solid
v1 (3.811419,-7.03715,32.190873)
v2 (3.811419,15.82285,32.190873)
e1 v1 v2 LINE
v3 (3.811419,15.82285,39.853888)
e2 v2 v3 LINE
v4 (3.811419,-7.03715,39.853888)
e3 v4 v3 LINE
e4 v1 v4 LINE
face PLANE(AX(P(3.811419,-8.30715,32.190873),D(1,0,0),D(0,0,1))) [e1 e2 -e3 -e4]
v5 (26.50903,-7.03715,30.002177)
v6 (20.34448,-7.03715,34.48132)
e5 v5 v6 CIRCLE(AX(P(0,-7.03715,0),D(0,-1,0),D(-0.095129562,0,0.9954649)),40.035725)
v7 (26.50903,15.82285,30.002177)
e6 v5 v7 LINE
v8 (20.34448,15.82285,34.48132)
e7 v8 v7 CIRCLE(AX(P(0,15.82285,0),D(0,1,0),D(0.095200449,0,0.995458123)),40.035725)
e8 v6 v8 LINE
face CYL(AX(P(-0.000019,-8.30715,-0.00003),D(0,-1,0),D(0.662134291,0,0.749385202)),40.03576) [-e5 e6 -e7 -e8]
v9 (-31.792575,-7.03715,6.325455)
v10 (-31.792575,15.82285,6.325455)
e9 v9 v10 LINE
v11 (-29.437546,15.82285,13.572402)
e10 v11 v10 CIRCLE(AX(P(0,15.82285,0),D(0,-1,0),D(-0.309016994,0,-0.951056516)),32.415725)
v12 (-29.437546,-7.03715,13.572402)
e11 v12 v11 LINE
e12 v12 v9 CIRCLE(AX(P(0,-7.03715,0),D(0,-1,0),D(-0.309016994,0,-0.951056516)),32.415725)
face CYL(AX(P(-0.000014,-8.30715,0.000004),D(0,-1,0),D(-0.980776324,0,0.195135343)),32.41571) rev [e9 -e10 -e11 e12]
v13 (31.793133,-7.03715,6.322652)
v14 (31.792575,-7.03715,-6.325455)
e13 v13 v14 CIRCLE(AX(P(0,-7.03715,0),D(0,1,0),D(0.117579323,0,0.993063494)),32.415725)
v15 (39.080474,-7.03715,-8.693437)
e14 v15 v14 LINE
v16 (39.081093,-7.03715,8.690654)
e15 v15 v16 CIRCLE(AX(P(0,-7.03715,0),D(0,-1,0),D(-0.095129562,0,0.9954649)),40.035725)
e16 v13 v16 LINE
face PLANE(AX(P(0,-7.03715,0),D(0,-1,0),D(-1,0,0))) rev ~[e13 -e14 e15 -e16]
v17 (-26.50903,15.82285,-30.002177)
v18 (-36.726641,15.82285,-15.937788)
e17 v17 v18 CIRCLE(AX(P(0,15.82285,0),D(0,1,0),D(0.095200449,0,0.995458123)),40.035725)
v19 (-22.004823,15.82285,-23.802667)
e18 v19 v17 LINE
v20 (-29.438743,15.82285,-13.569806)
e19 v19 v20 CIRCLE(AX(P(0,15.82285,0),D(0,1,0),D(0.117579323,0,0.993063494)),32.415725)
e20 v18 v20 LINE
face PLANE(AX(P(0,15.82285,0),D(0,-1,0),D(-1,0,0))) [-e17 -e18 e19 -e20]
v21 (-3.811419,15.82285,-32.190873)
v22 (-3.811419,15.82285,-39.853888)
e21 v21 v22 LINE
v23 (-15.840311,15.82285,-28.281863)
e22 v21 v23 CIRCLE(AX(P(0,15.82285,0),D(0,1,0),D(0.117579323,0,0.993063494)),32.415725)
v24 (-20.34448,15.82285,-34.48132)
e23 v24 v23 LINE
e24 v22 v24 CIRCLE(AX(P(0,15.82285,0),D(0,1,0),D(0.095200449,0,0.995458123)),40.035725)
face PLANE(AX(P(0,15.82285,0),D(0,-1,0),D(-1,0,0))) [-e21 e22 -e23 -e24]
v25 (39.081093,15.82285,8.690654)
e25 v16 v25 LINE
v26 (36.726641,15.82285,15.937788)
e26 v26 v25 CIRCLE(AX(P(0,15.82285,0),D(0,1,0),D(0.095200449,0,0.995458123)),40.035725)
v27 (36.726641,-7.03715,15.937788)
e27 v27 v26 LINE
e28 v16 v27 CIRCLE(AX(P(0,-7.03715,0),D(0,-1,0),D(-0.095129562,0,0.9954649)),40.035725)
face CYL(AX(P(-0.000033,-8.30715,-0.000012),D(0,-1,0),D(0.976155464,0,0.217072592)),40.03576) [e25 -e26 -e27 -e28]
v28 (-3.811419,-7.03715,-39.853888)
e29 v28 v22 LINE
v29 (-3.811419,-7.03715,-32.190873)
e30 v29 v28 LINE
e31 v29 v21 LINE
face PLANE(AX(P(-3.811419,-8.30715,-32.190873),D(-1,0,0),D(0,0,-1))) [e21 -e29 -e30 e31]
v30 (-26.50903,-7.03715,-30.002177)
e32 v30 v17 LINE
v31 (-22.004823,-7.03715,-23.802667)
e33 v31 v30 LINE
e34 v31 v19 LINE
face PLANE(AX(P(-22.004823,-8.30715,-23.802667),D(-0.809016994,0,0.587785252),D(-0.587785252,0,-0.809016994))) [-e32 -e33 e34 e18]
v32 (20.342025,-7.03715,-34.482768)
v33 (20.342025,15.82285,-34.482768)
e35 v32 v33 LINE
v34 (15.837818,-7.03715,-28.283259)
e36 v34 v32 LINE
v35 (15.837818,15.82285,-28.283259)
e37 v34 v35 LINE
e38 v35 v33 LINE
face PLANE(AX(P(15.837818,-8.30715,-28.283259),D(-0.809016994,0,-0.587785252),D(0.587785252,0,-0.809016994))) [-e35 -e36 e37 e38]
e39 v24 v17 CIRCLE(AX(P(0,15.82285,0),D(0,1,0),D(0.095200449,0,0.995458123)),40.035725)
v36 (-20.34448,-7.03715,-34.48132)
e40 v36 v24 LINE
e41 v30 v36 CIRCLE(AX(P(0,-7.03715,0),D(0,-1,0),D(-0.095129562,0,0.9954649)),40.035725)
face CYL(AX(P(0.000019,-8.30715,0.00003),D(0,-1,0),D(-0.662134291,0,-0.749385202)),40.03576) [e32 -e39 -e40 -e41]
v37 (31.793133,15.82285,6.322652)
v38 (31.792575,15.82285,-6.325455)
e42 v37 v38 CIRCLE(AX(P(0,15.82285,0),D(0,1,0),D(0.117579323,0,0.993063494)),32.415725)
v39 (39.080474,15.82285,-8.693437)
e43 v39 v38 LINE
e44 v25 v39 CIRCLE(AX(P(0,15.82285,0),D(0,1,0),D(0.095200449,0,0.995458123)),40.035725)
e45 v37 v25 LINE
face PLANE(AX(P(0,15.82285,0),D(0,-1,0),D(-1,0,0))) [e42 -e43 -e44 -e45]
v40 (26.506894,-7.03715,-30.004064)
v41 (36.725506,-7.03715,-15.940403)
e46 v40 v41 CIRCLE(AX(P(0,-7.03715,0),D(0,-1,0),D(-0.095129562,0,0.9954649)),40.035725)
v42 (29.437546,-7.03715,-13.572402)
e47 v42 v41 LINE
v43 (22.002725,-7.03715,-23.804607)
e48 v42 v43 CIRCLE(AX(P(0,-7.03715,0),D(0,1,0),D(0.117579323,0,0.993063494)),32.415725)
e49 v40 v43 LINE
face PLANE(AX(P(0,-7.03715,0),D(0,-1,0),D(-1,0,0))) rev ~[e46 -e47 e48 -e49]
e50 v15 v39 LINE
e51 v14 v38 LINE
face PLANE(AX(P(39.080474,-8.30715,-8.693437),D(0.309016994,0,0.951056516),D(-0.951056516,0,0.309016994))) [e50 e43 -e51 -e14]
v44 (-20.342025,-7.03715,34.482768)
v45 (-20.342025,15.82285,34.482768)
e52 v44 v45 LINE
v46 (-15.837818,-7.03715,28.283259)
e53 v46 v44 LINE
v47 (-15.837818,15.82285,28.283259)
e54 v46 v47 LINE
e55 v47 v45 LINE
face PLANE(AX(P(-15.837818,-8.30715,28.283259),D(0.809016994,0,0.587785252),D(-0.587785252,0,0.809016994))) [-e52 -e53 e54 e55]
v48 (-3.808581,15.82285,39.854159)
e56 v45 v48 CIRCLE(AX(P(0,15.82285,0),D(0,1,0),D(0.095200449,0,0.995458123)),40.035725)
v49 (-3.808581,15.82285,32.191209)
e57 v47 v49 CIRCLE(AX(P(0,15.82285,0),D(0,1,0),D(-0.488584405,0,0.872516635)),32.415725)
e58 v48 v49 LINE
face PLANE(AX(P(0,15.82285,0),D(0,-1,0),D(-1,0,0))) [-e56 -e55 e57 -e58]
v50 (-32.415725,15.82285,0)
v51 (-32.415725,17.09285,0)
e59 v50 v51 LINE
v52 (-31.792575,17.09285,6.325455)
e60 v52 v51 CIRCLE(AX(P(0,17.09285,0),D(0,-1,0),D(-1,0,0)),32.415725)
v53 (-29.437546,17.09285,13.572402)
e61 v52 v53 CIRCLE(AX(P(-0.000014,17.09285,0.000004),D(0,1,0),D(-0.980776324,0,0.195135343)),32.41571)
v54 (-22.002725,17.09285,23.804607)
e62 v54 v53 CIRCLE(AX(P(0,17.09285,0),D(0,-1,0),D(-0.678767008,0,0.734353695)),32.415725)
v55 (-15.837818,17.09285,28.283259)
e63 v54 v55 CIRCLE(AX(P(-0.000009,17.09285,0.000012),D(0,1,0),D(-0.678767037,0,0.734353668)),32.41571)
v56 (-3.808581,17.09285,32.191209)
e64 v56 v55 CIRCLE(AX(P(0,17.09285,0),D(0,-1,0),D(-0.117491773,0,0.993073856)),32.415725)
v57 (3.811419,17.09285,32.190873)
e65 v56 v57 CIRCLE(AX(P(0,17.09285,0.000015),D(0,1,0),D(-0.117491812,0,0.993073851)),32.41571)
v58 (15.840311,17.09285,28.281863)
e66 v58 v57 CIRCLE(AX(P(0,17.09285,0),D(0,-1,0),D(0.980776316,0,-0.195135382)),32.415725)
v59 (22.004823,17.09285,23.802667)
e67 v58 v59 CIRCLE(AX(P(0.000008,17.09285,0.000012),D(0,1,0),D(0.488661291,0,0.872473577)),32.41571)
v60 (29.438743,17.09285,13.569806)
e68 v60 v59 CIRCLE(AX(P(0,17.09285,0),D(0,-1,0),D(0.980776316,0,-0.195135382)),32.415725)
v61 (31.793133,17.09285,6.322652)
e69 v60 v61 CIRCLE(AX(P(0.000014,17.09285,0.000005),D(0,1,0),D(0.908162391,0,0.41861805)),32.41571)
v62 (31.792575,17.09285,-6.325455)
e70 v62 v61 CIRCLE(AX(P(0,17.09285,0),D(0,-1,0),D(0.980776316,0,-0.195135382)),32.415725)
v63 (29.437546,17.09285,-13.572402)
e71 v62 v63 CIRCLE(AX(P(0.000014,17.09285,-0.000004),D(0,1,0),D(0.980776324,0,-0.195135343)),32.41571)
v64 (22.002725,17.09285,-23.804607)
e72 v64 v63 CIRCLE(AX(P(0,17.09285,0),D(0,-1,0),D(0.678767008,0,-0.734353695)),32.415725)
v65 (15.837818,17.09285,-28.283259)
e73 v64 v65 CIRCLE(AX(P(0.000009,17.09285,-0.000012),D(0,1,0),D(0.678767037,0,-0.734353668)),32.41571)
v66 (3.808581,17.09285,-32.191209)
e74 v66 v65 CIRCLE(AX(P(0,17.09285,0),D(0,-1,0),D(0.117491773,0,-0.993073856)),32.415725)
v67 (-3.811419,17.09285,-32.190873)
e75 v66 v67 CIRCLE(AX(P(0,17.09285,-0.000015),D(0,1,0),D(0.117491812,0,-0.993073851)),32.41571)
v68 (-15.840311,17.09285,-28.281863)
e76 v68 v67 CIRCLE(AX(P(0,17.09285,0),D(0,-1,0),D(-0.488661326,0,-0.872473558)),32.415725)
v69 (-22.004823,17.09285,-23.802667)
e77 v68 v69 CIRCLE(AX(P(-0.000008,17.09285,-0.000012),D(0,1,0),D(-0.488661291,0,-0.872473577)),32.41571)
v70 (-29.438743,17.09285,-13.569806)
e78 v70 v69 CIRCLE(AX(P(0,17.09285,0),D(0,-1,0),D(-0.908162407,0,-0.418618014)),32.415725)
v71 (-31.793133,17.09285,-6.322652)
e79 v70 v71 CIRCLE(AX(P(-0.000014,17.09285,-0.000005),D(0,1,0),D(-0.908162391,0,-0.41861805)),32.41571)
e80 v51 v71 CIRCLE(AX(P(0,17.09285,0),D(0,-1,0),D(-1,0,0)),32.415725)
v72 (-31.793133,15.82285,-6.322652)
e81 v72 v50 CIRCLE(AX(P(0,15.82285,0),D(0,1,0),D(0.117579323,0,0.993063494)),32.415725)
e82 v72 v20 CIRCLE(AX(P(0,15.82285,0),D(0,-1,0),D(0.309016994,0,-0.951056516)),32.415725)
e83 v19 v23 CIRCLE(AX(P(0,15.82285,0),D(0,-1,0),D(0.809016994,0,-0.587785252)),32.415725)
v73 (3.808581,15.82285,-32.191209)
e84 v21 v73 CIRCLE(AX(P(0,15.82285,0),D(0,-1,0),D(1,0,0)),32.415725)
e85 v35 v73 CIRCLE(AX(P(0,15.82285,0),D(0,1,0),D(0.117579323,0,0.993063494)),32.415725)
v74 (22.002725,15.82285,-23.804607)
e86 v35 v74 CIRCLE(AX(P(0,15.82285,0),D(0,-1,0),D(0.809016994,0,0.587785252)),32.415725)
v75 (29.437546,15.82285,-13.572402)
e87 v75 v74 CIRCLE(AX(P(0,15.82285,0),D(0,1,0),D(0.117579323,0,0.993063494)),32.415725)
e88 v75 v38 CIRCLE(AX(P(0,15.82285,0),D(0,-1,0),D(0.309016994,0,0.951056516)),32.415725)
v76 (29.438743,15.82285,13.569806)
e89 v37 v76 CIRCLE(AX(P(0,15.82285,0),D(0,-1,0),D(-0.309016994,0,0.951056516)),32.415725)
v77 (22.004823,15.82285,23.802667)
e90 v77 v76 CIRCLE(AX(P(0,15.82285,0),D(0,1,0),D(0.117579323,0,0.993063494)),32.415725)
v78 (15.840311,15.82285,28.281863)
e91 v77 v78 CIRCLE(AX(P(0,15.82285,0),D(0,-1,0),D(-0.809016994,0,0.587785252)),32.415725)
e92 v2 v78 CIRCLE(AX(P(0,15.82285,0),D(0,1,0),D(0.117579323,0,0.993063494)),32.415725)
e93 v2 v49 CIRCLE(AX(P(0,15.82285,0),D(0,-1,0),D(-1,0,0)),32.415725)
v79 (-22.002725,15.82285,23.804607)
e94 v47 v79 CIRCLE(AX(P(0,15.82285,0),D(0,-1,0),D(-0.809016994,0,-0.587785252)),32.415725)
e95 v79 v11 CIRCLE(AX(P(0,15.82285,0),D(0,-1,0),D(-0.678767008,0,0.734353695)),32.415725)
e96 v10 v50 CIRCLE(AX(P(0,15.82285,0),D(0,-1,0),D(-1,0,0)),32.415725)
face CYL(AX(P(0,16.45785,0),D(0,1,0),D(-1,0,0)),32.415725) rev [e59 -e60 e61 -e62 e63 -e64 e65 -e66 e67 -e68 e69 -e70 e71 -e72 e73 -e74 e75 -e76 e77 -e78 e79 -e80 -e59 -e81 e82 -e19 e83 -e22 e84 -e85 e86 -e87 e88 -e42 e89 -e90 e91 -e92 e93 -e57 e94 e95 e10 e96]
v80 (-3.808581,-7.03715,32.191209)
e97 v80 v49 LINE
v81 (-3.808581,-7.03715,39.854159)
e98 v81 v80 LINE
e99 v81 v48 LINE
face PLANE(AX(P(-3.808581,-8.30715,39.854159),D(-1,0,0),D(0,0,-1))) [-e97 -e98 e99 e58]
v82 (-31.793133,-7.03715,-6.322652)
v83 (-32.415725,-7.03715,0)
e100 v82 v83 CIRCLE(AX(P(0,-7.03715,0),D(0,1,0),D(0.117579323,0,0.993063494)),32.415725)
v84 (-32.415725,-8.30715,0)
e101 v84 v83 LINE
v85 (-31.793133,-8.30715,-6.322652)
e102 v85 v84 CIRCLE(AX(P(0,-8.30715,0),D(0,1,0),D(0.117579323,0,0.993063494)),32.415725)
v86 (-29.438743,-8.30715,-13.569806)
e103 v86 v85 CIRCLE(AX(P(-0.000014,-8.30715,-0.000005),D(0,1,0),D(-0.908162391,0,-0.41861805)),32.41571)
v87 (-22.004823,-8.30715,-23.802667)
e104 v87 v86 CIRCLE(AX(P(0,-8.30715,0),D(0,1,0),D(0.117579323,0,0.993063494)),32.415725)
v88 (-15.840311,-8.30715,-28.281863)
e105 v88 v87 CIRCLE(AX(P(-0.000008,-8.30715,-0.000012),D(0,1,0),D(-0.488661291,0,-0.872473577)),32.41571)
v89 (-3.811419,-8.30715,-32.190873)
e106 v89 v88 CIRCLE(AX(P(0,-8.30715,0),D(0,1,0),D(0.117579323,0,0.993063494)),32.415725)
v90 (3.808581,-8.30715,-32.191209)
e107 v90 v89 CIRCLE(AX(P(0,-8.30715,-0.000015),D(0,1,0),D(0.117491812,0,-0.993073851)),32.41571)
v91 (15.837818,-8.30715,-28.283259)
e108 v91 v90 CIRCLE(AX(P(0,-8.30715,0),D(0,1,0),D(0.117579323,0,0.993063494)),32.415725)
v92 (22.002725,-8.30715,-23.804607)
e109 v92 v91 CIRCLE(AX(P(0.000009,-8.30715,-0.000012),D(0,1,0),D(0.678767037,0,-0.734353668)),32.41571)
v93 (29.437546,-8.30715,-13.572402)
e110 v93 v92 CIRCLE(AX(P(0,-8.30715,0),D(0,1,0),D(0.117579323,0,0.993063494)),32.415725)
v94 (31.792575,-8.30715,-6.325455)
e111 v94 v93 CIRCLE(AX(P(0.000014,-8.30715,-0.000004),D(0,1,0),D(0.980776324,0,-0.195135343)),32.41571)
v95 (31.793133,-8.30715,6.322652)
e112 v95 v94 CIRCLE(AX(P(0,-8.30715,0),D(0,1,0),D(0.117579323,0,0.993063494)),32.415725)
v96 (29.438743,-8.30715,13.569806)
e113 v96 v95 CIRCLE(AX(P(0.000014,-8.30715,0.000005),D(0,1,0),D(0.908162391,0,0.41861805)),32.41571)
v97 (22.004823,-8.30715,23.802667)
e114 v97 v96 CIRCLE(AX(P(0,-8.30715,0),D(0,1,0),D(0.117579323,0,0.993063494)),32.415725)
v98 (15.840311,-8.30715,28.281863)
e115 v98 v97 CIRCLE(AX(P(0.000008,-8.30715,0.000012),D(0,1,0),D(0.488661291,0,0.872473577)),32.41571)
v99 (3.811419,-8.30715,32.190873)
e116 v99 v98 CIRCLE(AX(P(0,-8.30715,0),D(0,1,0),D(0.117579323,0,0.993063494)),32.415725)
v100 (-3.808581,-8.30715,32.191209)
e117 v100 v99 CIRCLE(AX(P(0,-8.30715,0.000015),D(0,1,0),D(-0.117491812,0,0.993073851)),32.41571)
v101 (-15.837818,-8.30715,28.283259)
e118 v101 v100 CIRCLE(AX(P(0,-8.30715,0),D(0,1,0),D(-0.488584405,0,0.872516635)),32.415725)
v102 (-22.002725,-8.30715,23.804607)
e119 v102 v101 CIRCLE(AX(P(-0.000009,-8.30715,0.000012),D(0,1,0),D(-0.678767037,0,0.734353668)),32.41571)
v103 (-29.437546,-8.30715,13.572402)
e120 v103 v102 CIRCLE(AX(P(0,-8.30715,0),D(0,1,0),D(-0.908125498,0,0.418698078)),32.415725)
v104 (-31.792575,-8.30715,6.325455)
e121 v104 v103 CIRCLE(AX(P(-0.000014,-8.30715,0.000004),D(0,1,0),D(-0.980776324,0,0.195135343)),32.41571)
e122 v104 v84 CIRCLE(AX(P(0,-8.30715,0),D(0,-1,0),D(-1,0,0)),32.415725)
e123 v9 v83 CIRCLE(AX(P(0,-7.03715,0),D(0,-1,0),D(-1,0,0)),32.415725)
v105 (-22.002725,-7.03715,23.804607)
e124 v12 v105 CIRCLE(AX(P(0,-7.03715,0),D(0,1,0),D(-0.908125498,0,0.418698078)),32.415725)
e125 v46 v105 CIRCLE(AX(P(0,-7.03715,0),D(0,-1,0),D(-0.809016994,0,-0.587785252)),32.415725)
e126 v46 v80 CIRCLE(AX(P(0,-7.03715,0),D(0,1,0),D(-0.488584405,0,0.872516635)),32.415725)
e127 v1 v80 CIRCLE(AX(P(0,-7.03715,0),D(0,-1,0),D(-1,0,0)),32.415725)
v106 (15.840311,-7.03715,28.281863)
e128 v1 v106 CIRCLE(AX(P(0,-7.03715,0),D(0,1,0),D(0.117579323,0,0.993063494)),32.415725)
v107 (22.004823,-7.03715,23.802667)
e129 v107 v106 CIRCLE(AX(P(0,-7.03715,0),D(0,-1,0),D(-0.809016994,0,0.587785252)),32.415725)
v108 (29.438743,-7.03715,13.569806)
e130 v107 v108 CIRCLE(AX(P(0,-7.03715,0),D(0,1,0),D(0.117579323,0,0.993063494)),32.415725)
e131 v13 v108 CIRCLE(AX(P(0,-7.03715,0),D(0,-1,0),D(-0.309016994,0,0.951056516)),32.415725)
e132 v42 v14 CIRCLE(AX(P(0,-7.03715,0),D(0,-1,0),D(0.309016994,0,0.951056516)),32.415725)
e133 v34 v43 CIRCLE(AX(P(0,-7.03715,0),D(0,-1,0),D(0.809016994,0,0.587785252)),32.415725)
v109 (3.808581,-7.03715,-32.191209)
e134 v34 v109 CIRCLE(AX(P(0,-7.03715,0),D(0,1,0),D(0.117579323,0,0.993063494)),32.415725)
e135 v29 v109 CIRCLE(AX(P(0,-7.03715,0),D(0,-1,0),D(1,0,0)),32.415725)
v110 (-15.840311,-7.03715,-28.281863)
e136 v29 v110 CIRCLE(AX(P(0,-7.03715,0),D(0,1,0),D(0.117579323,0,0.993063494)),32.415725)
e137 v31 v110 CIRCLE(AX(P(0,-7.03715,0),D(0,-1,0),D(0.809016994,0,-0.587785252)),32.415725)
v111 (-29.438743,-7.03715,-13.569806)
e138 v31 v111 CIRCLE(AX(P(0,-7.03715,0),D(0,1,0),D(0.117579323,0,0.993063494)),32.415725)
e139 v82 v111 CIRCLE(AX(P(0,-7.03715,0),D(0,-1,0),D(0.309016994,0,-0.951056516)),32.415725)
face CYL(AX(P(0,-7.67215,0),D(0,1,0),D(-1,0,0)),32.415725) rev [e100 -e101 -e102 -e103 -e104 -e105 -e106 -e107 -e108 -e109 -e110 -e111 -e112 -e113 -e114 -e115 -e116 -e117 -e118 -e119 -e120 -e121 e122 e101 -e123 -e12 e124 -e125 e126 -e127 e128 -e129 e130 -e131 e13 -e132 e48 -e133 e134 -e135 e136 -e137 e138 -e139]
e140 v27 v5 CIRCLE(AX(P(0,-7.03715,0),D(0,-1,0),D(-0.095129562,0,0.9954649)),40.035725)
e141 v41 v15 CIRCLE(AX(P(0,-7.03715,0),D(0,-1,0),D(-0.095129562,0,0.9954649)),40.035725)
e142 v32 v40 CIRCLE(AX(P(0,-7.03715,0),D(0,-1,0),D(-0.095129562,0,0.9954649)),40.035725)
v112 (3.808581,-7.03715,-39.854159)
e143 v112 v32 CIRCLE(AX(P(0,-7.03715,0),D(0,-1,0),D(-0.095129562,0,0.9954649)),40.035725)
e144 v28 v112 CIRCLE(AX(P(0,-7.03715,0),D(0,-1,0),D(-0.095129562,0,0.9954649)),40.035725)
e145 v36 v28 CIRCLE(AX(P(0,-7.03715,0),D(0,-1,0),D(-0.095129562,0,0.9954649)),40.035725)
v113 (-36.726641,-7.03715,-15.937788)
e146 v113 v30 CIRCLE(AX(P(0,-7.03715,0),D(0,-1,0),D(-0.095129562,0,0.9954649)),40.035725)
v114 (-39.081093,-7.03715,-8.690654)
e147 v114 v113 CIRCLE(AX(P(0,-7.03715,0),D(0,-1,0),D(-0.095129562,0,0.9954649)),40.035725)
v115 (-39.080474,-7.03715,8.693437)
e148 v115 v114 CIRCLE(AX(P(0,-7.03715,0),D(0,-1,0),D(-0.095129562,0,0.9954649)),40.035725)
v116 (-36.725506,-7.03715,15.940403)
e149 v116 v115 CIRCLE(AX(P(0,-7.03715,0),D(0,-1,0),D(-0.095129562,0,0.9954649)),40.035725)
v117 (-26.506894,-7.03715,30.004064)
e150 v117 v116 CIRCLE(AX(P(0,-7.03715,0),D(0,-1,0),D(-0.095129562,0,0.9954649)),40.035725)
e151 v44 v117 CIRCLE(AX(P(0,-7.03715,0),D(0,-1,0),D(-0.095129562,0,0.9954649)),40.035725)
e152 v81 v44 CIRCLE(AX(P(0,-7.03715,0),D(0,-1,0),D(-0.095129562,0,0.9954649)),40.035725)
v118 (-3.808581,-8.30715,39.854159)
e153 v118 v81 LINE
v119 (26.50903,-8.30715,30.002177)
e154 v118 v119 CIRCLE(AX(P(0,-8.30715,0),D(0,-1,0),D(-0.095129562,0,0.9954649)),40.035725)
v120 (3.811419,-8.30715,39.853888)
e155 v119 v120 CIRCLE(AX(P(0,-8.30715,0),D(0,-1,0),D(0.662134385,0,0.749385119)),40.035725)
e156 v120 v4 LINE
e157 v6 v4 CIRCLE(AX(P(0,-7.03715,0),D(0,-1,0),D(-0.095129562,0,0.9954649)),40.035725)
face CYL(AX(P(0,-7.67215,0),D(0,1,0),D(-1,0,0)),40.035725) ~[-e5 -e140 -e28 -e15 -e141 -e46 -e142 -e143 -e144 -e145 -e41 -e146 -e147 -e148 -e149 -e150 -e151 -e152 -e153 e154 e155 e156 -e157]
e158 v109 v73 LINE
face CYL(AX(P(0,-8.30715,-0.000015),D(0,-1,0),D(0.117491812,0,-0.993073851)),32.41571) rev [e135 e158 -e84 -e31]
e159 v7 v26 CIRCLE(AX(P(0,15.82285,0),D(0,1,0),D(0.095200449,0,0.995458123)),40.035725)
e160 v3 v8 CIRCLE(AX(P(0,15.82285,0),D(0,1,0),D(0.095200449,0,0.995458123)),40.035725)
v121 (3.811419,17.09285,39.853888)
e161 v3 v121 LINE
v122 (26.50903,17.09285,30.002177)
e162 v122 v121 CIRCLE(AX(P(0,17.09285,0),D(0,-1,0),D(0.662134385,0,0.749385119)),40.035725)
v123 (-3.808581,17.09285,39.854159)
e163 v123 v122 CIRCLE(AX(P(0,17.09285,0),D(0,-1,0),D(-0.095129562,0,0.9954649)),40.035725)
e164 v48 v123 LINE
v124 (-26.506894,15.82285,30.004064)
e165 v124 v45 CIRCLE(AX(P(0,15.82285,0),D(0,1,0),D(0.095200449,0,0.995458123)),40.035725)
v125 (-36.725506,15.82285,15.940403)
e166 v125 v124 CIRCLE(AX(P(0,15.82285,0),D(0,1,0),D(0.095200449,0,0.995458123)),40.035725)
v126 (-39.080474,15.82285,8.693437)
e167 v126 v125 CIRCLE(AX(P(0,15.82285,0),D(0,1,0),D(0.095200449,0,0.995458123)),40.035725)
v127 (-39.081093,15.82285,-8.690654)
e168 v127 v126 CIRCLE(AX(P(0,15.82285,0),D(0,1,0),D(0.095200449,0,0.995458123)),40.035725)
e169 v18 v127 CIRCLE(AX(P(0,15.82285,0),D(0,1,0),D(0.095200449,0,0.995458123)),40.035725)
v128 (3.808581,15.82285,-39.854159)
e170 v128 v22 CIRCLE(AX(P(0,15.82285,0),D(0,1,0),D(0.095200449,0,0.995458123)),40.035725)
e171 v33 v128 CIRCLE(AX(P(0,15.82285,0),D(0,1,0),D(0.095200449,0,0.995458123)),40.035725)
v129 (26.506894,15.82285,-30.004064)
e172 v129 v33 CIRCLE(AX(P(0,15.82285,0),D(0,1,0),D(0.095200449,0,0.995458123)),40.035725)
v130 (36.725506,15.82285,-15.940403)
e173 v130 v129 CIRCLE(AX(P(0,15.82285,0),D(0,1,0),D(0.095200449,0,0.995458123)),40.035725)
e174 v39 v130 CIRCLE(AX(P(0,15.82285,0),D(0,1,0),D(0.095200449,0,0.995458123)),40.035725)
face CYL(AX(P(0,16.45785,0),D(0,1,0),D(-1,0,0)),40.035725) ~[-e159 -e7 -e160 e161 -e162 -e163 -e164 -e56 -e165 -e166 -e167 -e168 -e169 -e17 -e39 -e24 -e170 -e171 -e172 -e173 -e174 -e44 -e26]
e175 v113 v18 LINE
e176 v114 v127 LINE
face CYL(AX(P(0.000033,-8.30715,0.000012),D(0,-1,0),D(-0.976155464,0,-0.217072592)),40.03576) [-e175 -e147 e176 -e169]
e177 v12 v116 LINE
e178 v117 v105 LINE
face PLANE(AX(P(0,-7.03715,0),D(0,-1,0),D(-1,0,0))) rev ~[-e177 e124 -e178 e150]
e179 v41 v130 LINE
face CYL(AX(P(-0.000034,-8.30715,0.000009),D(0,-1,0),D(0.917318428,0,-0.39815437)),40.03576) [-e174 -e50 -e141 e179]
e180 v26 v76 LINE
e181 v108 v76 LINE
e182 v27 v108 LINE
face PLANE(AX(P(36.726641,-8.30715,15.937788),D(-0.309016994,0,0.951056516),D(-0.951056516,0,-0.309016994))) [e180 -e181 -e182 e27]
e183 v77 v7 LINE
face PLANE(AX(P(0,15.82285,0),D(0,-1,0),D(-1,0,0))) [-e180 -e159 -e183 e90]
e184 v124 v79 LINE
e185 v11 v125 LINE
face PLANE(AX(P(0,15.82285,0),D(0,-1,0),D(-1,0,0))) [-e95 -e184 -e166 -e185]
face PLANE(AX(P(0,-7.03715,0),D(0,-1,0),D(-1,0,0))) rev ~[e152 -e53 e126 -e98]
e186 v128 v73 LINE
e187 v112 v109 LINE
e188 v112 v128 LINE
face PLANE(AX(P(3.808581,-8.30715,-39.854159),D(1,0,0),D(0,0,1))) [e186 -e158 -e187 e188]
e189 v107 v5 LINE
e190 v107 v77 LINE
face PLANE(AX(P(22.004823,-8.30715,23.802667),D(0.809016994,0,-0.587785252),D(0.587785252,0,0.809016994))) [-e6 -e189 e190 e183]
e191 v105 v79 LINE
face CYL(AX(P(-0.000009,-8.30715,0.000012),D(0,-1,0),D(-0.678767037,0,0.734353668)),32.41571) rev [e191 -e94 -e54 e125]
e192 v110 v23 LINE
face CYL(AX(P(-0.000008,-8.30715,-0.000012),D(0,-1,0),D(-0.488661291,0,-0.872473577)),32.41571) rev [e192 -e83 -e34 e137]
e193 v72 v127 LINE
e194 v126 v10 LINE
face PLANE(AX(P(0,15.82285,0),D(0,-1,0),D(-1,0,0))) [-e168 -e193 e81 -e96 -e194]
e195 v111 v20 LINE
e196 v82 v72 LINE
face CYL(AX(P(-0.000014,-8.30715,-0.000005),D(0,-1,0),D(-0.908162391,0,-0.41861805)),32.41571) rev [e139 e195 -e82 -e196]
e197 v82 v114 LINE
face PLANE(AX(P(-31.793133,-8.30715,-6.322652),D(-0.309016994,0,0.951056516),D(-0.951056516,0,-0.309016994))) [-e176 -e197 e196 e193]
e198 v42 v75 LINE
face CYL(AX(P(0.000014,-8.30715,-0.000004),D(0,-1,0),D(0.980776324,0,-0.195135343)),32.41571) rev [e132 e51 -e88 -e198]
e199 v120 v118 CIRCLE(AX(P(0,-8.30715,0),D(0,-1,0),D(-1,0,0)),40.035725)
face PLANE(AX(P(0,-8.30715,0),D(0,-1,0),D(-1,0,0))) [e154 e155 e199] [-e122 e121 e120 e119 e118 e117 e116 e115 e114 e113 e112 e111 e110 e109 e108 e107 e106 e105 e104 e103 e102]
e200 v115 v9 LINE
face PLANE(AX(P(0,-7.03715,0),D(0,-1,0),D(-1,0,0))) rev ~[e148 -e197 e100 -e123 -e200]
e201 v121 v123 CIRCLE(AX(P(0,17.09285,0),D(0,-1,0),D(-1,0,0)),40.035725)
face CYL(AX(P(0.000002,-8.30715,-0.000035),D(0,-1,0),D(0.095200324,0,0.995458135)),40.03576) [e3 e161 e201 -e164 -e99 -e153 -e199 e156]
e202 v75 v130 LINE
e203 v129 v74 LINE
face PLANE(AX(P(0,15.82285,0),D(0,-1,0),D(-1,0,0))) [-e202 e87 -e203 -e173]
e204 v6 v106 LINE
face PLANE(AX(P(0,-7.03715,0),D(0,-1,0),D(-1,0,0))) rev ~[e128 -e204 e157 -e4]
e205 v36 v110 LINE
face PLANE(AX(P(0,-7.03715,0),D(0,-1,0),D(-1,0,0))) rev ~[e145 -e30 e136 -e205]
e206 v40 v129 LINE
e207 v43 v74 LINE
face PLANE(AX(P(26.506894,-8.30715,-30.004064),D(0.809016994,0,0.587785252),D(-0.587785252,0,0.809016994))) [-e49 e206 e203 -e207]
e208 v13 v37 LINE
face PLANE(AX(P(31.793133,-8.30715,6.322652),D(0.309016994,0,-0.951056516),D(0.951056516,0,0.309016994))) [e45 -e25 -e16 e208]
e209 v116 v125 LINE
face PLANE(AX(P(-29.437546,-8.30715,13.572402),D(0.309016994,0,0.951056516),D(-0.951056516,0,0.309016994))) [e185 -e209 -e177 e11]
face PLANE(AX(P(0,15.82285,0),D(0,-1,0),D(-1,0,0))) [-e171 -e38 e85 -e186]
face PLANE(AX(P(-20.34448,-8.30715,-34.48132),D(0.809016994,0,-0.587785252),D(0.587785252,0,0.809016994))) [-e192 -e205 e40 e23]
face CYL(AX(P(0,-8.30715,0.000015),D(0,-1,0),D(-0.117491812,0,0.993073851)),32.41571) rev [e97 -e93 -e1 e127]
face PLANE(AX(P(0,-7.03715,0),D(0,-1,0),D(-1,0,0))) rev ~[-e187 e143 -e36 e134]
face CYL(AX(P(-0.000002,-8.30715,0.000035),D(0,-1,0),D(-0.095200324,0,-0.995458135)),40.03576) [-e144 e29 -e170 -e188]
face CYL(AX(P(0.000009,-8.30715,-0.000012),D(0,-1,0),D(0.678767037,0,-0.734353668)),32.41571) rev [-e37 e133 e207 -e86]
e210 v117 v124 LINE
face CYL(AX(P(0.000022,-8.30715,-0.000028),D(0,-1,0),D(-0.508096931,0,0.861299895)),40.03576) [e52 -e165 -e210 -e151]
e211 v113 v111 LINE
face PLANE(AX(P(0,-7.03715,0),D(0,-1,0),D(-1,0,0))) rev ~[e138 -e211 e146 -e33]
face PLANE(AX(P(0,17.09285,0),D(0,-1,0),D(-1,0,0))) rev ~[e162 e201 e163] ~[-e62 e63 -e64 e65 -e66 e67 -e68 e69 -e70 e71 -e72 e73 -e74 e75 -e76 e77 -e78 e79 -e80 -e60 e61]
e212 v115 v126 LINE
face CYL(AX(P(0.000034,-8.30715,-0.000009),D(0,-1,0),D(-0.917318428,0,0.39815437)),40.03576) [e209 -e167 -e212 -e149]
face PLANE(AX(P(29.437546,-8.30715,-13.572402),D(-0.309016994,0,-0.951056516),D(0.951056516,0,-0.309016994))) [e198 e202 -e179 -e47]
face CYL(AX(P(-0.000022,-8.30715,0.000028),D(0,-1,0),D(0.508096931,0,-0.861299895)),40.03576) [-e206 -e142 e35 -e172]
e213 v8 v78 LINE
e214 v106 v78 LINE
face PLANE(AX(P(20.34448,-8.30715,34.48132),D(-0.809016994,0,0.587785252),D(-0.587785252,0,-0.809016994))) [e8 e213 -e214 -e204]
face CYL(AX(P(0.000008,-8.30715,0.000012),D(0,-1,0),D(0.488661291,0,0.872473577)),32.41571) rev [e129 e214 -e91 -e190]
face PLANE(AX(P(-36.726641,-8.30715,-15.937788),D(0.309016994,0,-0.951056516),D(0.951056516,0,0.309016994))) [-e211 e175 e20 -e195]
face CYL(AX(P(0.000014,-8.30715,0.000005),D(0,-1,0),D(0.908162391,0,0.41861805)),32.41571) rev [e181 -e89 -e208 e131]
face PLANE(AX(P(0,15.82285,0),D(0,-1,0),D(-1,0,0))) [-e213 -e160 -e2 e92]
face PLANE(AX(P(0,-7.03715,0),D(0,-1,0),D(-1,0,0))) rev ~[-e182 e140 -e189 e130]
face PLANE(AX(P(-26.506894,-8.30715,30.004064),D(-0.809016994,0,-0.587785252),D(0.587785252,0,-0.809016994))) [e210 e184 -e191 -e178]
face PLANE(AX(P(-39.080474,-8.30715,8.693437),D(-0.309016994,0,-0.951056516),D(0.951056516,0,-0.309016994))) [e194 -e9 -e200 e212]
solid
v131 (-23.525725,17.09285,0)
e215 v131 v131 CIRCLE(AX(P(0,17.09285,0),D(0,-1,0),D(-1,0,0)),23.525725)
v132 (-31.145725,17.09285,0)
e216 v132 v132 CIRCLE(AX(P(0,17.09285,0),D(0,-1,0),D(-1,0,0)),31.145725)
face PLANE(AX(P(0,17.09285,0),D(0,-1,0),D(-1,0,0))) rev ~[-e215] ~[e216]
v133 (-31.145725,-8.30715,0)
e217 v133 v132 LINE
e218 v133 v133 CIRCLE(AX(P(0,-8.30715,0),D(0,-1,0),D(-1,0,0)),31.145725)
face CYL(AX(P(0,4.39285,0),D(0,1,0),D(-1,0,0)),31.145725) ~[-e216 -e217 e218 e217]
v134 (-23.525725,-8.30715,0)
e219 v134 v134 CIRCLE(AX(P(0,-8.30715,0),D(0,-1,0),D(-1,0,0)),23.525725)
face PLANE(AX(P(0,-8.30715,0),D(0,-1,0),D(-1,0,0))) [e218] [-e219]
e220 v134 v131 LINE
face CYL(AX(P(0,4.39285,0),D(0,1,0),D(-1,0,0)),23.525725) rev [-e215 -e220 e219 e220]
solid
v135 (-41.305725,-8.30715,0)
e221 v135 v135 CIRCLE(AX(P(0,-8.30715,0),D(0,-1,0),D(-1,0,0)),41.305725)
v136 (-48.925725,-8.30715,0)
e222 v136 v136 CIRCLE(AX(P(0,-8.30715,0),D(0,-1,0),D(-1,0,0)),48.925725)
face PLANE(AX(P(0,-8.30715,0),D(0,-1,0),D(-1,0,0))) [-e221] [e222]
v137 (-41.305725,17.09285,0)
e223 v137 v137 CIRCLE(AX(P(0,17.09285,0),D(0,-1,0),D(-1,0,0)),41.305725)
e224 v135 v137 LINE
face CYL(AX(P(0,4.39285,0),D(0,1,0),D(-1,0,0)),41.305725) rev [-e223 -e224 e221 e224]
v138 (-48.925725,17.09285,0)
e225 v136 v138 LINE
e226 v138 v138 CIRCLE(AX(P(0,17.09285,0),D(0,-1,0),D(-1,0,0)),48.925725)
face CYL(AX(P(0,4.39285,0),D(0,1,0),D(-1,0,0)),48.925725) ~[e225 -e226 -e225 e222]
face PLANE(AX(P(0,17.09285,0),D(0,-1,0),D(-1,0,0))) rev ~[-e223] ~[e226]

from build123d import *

# Parameters (mm, degrees)
F0_W     = 7.62
F0_H     = 1.27
F3_DEPTH = 25.4
F4_COUNT = 10
F0_H_2   = 25.4


with BuildPart() as f1:
    # F0 (on Top) → F1 (revolve)
    with BuildSketch(Plane.XY):
        with Locations((-36.225725, 16.45785)):
            Rectangle(F0_W, F0_H)
        with Locations((-36.225725, -7.67215)):
            Rectangle(F0_W, F0_H)
    revolve(axis=Axis((0, 8.546425, 0), (0, -1, 0)))

    # F2 (on face) → F3 (join)
    with BuildSketch(Plane.XZ.offset(8.30715)):
        with BuildLine():
            ThreePointArc((3.811419, 39.853888), (0.001425, 40.035725), (-3.808581, 39.854159))
            Line((-3.808581, 39.854159), (-3.808581, 32.191209))
            ThreePointArc((-3.808581, 32.191209), (0.001429, 32.415725), (3.811419, 32.190873))
            Line((3.811419, 32.190873), (3.811419, 39.853888))
        make_face()
    extrude(amount=-F3_DEPTH)

    # F4: F1 ×10 about axis
    f4_axis = Axis((0, 8.546425, 0), (0, -1, 0))


with BuildPart() as f1_1:
    add(f1.part)
    for i in range(1, F4_COUNT):
        add(f1.part.rotate(f4_axis, i * 360 / F4_COUNT))


with BuildPart() as f5:
    # F0 (on Top) → F5 (revolve)
    with BuildSketch(Plane.XY):
        with Locations((-45.115725, 4.39285)):
            Rectangle(F0_W, F0_H_2)
        with Locations((-27.335725, 4.39285)):
            Rectangle(F0_W, F0_H_2)
    revolve(axis=Axis((0, 8.546425, 0), (0, -1, 0)))


solid = Compound([f1_1.part, f5.part])
